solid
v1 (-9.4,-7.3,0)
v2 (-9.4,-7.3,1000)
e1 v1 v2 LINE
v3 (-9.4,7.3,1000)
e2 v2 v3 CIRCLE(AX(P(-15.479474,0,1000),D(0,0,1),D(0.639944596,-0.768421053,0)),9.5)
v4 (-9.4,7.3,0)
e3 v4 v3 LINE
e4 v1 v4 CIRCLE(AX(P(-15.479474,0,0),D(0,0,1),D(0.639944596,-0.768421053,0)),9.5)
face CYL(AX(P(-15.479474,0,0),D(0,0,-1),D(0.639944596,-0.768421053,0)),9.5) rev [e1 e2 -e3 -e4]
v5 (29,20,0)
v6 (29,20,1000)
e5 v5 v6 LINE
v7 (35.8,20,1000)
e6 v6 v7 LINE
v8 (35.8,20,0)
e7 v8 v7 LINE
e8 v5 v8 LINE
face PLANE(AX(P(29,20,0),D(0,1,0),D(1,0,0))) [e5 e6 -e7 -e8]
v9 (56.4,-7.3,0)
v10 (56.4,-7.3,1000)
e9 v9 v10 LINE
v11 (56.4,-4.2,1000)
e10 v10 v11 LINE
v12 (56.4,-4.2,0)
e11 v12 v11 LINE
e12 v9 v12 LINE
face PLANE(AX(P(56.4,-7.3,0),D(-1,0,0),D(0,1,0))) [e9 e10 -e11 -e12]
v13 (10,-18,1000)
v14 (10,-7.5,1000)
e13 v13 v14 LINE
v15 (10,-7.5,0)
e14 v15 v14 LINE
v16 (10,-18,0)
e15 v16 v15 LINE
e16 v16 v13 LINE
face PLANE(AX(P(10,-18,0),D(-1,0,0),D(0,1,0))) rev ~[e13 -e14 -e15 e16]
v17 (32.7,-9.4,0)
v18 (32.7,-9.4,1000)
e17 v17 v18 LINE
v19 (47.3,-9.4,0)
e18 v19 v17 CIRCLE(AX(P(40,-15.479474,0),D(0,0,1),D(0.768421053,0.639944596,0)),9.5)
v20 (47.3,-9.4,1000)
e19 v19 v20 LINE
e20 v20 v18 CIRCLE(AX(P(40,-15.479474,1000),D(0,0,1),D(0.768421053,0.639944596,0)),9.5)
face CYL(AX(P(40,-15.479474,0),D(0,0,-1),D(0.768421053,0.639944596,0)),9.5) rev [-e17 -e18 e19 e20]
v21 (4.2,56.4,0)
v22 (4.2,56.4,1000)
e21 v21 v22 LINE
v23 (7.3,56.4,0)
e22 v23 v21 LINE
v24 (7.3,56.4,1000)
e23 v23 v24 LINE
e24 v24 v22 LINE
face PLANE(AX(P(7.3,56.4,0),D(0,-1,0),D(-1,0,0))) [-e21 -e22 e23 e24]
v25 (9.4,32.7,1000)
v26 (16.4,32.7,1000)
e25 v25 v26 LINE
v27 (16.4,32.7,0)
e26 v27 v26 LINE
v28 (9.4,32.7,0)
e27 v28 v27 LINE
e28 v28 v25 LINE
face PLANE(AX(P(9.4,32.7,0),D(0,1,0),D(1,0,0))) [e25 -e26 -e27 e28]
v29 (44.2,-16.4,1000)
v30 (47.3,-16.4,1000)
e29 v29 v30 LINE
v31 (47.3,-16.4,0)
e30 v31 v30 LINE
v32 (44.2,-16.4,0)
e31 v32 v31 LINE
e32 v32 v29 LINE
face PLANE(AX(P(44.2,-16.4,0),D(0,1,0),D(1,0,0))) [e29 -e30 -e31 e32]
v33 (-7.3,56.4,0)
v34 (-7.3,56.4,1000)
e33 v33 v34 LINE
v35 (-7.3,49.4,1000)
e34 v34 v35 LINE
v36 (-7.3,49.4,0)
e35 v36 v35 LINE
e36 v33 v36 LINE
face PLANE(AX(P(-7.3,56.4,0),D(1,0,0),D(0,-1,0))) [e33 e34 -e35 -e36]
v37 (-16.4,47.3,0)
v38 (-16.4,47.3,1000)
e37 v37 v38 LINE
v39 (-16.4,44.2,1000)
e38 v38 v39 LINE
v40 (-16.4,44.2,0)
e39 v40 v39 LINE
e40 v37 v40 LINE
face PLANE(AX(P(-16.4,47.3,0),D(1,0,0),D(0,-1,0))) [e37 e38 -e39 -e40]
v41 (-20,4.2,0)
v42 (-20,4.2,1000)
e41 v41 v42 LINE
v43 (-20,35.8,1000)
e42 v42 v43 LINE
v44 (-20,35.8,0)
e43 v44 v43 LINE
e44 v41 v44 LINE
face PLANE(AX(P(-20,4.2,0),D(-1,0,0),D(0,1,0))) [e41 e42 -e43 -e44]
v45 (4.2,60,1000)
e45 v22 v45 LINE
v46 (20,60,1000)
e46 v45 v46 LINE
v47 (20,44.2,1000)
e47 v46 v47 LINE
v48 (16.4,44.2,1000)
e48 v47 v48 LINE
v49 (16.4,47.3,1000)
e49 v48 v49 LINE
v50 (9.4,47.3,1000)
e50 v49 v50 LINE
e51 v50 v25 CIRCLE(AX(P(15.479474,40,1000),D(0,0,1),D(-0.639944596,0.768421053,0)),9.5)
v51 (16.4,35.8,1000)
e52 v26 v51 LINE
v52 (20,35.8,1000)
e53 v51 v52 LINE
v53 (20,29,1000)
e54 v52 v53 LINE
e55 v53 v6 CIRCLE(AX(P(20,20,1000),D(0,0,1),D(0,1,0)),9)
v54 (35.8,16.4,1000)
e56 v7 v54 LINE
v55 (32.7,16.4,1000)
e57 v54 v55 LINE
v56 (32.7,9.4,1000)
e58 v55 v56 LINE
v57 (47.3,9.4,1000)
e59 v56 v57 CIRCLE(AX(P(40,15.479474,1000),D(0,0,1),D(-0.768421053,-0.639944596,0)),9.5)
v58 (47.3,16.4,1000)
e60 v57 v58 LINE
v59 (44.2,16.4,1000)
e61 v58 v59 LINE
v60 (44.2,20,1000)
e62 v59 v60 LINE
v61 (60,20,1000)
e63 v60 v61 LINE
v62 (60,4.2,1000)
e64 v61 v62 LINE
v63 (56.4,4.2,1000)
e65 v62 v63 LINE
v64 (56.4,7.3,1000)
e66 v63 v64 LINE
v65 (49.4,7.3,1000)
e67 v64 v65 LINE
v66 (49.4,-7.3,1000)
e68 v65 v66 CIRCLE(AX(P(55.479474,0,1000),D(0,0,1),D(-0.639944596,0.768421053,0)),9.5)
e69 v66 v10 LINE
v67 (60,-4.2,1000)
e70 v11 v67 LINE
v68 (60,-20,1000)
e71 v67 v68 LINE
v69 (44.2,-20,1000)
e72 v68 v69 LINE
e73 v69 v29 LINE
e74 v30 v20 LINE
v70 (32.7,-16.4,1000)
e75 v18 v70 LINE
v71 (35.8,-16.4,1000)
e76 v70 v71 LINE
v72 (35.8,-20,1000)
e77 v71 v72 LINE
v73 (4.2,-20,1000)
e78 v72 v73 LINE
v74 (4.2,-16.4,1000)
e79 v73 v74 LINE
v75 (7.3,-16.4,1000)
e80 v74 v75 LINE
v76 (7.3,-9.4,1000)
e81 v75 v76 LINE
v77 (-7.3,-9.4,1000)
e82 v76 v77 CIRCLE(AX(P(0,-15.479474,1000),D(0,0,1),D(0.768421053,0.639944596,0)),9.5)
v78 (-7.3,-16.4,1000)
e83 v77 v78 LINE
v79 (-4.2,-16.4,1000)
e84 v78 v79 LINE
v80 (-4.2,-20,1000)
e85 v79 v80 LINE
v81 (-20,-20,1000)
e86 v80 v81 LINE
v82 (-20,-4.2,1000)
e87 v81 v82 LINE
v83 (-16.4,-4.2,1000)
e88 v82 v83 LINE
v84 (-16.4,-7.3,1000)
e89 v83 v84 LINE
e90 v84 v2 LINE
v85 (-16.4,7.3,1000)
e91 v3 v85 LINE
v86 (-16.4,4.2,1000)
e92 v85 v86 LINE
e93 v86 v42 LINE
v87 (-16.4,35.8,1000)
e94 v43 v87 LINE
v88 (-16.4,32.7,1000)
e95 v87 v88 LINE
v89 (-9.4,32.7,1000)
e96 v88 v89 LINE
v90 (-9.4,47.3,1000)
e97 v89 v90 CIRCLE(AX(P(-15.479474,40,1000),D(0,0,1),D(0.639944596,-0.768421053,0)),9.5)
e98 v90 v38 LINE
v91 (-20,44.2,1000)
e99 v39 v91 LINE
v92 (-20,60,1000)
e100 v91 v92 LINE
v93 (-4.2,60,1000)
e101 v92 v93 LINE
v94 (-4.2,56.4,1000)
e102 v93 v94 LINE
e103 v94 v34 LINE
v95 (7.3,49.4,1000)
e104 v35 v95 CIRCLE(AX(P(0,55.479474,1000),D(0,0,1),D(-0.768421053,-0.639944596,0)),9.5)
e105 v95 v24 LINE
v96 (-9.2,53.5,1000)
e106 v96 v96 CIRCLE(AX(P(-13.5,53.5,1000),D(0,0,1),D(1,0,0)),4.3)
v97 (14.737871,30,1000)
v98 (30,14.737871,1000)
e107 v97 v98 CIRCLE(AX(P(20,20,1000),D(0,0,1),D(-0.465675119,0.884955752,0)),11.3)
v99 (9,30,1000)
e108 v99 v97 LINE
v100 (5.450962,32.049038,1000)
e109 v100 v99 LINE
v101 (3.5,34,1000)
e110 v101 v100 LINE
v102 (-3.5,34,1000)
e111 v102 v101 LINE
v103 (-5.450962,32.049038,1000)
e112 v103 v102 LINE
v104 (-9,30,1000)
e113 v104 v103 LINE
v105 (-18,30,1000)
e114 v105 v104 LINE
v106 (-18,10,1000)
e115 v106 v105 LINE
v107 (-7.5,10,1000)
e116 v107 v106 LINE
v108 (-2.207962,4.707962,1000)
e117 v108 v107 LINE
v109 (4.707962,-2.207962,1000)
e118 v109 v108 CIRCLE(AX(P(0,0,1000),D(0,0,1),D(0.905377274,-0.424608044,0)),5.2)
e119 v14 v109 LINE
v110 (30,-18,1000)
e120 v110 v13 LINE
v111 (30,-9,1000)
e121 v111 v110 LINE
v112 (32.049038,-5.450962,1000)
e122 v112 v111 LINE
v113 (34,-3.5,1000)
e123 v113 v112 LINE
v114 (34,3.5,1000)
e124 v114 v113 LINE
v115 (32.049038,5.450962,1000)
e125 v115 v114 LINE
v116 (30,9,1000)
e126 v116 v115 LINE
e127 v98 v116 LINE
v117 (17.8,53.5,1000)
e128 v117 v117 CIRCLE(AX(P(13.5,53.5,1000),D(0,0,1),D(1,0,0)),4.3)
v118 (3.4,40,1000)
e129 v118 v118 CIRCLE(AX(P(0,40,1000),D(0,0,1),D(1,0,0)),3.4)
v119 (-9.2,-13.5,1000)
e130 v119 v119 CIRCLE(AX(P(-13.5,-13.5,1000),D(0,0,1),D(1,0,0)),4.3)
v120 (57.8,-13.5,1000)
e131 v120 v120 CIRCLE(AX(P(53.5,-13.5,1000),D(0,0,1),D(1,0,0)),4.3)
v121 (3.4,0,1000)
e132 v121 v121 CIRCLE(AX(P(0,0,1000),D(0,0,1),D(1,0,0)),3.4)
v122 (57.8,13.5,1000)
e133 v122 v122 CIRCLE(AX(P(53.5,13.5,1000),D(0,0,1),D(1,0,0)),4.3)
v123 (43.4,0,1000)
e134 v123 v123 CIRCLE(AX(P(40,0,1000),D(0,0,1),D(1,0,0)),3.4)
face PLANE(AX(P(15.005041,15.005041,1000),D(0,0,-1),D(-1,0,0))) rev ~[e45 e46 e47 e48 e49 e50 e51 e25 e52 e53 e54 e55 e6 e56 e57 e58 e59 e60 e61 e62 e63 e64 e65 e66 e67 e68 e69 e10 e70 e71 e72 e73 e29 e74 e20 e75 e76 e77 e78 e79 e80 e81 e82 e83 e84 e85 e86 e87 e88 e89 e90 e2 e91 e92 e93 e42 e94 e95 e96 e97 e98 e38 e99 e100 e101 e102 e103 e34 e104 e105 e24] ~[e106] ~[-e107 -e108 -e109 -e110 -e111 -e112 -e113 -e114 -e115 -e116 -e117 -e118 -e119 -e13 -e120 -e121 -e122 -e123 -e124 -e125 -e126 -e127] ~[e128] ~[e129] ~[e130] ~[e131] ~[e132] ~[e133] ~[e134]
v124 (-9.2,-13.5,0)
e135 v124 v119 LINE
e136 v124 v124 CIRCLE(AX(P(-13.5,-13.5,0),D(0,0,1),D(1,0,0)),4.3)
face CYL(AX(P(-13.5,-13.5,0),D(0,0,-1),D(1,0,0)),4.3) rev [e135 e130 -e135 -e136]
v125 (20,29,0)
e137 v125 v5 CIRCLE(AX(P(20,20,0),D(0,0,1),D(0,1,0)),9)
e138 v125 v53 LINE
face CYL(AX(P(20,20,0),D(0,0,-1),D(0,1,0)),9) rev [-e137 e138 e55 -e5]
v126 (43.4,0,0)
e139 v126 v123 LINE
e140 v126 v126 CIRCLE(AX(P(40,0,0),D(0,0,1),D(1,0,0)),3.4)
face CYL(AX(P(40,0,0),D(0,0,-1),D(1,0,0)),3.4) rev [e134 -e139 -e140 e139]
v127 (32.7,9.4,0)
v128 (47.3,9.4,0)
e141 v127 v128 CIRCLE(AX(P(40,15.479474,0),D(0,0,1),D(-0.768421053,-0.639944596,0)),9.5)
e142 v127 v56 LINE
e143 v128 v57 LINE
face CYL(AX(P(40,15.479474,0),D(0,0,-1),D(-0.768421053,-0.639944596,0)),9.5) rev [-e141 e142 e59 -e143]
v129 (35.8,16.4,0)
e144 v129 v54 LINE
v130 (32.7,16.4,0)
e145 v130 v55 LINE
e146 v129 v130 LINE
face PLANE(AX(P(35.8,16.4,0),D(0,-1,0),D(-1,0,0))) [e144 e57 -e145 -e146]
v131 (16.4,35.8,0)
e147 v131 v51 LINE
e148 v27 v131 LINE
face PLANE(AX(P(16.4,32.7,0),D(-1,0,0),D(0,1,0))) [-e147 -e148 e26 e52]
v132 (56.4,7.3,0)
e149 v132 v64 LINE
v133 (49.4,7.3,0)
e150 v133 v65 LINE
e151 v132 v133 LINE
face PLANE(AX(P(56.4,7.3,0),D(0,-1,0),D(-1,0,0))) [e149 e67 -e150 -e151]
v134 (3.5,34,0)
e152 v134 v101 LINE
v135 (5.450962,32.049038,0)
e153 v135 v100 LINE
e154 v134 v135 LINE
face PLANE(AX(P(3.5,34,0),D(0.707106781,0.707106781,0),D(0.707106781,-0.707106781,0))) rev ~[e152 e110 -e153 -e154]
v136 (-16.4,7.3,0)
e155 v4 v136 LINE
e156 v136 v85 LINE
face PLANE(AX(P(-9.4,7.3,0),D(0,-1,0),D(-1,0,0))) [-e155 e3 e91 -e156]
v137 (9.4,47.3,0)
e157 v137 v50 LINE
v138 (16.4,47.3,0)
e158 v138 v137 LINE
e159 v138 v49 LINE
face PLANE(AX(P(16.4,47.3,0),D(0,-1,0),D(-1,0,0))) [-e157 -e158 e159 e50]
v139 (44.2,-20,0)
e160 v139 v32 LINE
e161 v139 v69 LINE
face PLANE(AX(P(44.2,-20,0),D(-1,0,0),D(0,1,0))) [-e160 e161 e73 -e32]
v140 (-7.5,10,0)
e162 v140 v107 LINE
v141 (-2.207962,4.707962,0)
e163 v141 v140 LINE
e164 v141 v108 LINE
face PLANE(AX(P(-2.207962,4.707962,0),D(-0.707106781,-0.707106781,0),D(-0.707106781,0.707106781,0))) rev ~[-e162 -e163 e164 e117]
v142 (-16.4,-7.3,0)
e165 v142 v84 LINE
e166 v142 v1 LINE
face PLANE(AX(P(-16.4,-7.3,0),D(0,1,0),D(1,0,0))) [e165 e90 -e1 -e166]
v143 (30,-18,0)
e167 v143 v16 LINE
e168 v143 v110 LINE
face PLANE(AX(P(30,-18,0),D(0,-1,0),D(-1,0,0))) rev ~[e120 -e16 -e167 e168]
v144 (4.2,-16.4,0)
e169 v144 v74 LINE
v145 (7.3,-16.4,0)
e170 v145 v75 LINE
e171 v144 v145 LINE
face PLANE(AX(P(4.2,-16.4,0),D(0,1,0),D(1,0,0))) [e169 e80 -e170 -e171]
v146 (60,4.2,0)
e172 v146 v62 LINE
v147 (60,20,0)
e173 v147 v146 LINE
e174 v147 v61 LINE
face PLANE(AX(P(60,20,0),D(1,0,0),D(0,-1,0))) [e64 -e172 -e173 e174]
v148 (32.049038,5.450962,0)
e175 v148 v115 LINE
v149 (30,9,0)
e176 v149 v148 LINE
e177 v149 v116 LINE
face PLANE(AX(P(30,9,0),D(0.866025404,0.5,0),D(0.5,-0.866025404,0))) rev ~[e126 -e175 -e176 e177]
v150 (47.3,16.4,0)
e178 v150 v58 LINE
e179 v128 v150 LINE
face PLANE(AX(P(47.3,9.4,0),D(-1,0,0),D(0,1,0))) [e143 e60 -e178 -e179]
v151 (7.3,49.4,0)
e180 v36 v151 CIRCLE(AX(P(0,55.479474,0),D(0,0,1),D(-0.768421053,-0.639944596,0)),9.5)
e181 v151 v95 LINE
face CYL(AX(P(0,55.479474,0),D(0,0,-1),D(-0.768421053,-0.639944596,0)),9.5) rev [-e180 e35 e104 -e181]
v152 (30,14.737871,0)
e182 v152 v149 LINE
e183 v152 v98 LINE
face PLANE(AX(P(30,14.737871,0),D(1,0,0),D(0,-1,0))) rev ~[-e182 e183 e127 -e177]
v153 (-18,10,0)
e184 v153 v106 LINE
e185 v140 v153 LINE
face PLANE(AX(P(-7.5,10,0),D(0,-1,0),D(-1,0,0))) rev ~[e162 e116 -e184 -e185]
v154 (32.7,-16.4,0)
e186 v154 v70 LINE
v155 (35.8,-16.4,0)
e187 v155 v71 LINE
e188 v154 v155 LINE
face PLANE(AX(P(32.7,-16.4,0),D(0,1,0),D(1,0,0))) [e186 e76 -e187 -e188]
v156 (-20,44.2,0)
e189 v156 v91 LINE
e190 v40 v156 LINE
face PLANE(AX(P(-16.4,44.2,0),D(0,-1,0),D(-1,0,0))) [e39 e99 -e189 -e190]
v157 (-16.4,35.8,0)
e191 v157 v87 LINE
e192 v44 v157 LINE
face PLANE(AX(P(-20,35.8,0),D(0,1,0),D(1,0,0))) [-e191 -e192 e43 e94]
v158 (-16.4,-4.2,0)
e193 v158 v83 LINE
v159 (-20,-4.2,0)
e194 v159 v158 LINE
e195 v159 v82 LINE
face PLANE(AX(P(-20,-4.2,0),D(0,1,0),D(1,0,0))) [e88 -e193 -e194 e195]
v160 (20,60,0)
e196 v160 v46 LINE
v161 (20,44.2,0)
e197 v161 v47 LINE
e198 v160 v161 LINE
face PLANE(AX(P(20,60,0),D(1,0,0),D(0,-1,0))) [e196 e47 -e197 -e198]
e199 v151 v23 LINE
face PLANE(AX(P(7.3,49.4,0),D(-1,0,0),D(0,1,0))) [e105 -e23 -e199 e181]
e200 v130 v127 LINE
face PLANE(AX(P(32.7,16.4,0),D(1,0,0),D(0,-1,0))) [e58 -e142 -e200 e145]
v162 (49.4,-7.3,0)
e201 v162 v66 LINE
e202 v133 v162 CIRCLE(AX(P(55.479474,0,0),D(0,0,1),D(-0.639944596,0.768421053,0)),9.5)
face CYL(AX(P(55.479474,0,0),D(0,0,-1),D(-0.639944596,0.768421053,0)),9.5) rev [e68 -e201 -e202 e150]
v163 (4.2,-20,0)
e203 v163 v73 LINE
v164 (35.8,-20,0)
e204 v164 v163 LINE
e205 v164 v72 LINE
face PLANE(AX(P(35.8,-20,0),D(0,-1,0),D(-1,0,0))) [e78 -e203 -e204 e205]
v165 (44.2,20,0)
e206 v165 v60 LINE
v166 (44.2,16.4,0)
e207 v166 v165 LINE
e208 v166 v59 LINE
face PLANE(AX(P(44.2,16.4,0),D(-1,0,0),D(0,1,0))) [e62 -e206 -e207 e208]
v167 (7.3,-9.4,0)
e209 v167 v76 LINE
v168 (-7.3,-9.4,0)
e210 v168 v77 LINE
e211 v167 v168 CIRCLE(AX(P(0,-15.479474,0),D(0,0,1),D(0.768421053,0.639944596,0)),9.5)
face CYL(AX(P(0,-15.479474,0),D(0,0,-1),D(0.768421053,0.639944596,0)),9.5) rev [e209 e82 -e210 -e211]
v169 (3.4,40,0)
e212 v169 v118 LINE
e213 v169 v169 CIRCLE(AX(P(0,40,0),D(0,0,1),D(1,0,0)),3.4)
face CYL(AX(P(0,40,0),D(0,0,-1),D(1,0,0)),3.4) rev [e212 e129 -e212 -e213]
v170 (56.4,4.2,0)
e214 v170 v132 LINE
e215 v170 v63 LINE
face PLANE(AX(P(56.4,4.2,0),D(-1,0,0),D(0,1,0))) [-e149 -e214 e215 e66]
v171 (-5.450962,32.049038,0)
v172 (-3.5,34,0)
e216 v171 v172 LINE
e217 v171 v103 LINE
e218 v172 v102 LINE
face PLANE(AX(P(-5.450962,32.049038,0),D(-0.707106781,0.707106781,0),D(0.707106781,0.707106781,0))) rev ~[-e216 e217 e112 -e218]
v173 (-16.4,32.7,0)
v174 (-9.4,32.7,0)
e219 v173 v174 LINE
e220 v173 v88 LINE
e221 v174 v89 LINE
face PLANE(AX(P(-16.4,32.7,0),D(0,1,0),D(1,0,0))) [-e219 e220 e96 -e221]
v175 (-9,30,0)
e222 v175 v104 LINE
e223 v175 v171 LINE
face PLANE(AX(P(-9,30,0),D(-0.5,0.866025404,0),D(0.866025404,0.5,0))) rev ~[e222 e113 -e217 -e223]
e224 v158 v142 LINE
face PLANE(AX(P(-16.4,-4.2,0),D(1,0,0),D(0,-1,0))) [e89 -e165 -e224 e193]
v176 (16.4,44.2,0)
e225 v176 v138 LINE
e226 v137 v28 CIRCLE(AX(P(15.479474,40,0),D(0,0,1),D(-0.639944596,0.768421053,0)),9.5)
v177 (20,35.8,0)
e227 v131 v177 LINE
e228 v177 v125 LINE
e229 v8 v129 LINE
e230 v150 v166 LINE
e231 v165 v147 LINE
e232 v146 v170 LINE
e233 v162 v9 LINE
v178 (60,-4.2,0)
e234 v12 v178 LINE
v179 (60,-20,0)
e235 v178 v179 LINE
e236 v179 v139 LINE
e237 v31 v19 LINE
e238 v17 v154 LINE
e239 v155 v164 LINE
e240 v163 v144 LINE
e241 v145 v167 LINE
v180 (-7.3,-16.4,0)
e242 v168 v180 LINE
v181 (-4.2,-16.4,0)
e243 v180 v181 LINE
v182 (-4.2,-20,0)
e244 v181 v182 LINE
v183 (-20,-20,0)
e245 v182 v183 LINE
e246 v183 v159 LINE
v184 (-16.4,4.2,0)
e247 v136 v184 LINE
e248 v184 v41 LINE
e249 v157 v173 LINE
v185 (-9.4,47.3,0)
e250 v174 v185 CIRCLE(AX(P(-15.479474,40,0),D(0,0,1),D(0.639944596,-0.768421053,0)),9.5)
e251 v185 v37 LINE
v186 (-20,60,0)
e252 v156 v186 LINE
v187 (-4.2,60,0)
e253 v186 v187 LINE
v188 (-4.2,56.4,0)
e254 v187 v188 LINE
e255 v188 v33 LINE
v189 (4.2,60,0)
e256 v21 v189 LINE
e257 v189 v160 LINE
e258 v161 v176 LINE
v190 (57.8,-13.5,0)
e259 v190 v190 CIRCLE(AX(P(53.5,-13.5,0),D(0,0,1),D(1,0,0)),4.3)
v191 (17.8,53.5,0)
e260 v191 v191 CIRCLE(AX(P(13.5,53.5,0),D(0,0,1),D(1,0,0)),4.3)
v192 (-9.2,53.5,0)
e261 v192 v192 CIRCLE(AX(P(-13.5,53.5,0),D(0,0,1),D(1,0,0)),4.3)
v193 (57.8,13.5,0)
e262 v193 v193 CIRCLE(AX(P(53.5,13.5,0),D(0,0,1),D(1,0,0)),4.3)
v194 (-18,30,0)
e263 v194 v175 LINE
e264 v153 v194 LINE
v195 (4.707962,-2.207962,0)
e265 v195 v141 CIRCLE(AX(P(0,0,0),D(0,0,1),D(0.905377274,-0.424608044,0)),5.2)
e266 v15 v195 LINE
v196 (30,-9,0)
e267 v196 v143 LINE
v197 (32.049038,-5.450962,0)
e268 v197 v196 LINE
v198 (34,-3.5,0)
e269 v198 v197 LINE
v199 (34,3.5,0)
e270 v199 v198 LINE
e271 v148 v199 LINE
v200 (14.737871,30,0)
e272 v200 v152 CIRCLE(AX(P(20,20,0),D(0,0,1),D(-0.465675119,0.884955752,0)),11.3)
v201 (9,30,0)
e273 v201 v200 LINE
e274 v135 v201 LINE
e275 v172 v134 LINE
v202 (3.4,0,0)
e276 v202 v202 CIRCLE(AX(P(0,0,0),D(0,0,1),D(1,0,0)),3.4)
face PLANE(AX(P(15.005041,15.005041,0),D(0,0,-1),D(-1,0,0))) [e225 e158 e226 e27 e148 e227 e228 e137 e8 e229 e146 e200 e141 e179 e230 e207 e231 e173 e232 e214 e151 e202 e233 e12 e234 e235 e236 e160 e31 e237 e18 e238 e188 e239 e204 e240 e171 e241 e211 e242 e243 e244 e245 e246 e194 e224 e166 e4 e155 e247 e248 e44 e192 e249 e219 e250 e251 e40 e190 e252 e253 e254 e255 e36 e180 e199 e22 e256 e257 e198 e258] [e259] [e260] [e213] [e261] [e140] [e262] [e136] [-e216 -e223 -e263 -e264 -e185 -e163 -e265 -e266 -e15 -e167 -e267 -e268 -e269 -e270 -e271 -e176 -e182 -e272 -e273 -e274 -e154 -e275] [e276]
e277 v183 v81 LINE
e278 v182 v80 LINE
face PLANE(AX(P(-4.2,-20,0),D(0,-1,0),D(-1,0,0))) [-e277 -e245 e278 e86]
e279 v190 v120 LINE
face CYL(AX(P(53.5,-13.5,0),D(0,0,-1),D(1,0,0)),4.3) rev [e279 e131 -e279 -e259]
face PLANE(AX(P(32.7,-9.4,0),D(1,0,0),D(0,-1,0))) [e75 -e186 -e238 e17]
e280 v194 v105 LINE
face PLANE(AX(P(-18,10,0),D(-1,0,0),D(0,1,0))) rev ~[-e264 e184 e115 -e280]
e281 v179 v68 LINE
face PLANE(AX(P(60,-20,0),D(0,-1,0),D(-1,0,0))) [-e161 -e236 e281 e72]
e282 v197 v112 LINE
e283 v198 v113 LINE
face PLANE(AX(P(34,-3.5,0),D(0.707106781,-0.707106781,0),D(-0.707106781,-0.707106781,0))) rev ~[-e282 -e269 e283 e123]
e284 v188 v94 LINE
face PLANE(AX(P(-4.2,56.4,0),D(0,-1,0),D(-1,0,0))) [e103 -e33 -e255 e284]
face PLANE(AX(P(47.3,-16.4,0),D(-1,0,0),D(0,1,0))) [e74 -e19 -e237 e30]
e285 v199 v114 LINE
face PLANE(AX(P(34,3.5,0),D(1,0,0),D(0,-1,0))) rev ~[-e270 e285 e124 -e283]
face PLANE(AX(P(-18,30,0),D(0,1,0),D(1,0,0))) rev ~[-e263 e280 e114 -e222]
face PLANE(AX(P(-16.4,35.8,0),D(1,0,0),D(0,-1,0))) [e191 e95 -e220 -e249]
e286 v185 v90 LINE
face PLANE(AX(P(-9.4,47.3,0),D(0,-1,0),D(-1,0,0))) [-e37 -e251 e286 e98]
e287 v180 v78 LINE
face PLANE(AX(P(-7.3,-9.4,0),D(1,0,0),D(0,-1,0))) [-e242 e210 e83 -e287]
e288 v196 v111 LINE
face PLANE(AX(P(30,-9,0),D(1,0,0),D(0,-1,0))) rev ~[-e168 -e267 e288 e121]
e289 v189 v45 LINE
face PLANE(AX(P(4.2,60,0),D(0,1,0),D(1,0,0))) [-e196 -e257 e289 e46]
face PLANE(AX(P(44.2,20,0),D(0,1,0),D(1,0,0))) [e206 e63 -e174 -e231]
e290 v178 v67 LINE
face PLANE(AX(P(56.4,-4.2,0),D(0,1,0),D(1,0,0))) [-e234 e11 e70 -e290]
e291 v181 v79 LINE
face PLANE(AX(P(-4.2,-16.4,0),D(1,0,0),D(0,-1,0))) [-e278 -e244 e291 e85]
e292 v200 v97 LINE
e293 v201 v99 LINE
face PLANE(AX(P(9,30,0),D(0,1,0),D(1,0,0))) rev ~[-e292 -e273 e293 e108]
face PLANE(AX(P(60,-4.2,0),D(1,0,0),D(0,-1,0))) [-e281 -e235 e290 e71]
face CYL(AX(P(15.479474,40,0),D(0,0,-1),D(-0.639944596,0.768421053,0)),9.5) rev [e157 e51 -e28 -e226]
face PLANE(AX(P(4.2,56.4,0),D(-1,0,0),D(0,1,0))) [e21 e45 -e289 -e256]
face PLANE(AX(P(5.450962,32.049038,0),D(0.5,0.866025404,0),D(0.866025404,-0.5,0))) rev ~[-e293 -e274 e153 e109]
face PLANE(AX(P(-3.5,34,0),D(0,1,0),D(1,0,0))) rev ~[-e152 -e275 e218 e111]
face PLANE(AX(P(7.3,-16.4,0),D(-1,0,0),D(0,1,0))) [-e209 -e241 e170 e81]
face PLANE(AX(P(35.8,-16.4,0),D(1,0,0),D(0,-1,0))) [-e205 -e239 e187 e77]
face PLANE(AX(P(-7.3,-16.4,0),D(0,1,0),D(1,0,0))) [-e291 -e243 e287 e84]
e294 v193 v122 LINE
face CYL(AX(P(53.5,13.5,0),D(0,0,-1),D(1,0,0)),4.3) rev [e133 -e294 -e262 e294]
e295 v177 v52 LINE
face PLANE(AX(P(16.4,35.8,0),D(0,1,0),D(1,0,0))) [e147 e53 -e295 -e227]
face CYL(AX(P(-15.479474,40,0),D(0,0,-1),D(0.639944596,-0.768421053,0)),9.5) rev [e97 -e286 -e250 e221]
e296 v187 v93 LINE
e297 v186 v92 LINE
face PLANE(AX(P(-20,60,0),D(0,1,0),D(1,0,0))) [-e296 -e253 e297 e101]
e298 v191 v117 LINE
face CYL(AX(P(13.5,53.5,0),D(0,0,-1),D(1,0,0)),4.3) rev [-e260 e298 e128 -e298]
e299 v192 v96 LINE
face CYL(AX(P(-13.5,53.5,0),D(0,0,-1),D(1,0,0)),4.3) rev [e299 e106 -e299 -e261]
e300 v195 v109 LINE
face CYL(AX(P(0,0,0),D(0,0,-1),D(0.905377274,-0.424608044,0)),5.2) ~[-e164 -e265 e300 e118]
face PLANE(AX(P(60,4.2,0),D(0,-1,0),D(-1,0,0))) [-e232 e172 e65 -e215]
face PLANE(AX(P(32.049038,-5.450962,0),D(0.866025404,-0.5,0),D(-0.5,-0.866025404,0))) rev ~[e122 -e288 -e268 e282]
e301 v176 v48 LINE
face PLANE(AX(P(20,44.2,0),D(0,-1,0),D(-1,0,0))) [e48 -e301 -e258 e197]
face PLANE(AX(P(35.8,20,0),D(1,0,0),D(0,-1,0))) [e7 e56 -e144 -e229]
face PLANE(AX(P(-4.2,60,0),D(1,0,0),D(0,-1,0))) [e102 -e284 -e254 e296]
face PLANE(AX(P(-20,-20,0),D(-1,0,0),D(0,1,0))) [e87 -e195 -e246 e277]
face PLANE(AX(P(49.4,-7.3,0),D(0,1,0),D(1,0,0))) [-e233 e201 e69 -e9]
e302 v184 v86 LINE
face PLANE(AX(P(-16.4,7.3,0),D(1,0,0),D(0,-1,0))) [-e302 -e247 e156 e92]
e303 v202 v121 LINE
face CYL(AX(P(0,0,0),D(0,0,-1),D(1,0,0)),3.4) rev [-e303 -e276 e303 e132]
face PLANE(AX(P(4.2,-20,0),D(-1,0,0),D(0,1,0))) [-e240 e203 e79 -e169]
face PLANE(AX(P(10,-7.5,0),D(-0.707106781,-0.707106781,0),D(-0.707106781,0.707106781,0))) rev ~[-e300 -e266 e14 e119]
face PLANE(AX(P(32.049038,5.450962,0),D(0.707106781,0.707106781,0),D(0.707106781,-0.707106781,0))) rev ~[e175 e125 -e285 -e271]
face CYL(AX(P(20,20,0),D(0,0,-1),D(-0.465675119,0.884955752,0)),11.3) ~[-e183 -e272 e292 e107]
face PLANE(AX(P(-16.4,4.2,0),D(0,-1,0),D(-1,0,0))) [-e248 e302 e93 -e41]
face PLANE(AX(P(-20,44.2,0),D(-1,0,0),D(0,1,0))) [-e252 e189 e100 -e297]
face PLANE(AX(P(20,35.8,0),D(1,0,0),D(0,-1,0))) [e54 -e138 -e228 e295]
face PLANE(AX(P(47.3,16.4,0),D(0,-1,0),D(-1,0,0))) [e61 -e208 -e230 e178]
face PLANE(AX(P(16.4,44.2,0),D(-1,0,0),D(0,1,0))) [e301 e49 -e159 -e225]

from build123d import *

# Parameters (mm, degrees)
SKETCH_1_R      = 3.4
SKETCH_1_R_2    = 4.3
EXTRUDE_1_DEPTH = 1000


with BuildPart() as part:
    # Эскиз1 → Бобышка-Вытянуть1 (new body)
    with BuildSketch(Plane.XY):
        with BuildLine():
            Line((-20, 47.3), (-20, 60))
            Line((-20, 60), (-7.3, 60))
            Line((-7.3, 60), (-4.2, 60))
            Line((-4.2, 60), (-4.2, 56.4))
            Line((-4.2, 56.4), (-7.3, 56.4))
            Line((-7.3, 56.4), (-7.3, 49.4))
            ThreePointArc((-7.3, 49.4), (0, 45.979473661), (7.3, 49.4))
            Line((7.3, 49.4), (7.3, 56.4))
            Line((7.3, 56.4), (4.2, 56.4))
            Line((4.2, 56.4), (4.2, 60))
            Line((4.2, 60), (7.3, 60))
            Line((7.3, 60), (20, 60))
            Line((20, 60), (20, 47.3))
            Line((20, 47.3), (20, 44.2))
            Line((20, 44.2), (16.4, 44.2))
            Line((16.4, 44.2), (16.4, 47.3))
            Line((16.4, 47.3), (9.4, 47.3))
            ThreePointArc((9.4, 47.3), (5.979473661, 40), (9.4, 32.7))
            Line((9.4, 32.7), (16.4, 32.7))
            Line((16.4, 32.7), (16.4, 35.8))
            Line((16.4, 35.8), (20, 35.8))
            Line((20, 35.8), (20, 32.7))
            Line((20, 32.7), (20, 29))
            ThreePointArc((20, 29), (13.636038969, 13.636038969), (29, 20))
            Line((29, 20), (32.7, 20))
            Line((32.7, 20), (35.8, 20))
            Line((35.8, 20), (35.8, 16.4))
            Line((35.8, 16.4), (32.7, 16.4))
            Line((32.7, 16.4), (32.7, 9.4))
            ThreePointArc((32.7, 9.4), (40, 5.979473661), (47.3, 9.4))
            Line((47.3, 9.4), (47.3, 16.4))
            Line((47.3, 16.4), (44.2, 16.4))
            Line((44.2, 16.4), (44.2, 20))
            Line((44.2, 20), (47.3, 20))
            Line((47.3, 20), (60, 20))
            Line((60, 20), (60, 7.3))
            Line((60, 7.3), (60, 4.2))
            Line((60, 4.2), (56.4, 4.2))
            Line((56.4, 4.2), (56.4, 7.3))
            Line((56.4, 7.3), (49.4, 7.3))
            ThreePointArc((49.4, 7.3), (45.979473661, 0), (49.4, -7.3))
            Line((49.4, -7.3), (56.4, -7.3))
            Line((56.4, -7.3), (56.4, -4.2))
            Line((56.4, -4.2), (60, -4.2))
            Line((60, -4.2), (60, -7.3))
            Line((60, -7.3), (60, -20))
            Line((60, -20), (47.3, -20))
            Line((47.3, -20), (44.2, -20))
            Line((44.2, -20), (44.2, -16.4))
            Line((44.2, -16.4), (47.3, -16.4))
            Line((47.3, -16.4), (47.3, -9.4))
            ThreePointArc((47.3, -9.4), (40, -5.979473661), (32.7, -9.4))
            Line((32.7, -9.4), (32.7, -16.4))
            Line((32.7, -16.4), (35.8, -16.4))
            Line((35.8, -16.4), (35.8, -20))
            Line((35.8, -20), (32.7, -20))
            Line((32.7, -20), (7.3, -20))
            Line((7.3, -20), (4.2, -20))
            Line((4.2, -20), (4.2, -16.4))
            Line((4.2, -16.4), (7.3, -16.4))
            Line((7.3, -16.4), (7.3, -9.4))
            ThreePointArc((7.3, -9.4), (0, -5.979473661), (-7.3, -9.4))
            Line((-7.3, -9.4), (-7.3, -16.4))
            Line((-7.3, -16.4), (-4.2, -16.4))
            Line((-4.2, -16.4), (-4.2, -20))
            Line((-4.2, -20), (-7.3, -20))
            Line((-7.3, -20), (-20, -20))
            Line((-20, -20), (-20, -7.3))
            Line((-20, -7.3), (-20, -4.2))
            Line((-20, -4.2), (-16.4, -4.2))
            Line((-16.4, -4.2), (-16.4, -7.3))
            Line((-16.4, -7.3), (-9.4, -7.3))
            ThreePointArc((-9.4, -7.3), (-5.979473661, 0), (-9.4, 7.3))
            Line((-9.4, 7.3), (-16.4, 7.3))
            Line((-16.4, 7.3), (-16.4, 4.2))
            Line((-16.4, 4.2), (-20, 4.2))
            Line((-20, 4.2), (-20, 7.3))
            Line((-20, 7.3), (-20, 32.7))
            Line((-20, 32.7), (-20, 35.8))
            Line((-20, 35.8), (-16.4, 35.8))
            Line((-16.4, 35.8), (-16.4, 32.7))
            Line((-16.4, 32.7), (-9.4, 32.7))
            ThreePointArc((-9.4, 32.7), (-5.979473661, 40), (-9.4, 47.3))
            Line((-9.4, 47.3), (-16.4, 47.3))
            Line((-16.4, 47.3), (-16.4, 44.2))
            Line((-16.4, 44.2), (-20, 44.2))
            Line((-20, 44.2), (-20, 47.3))
        make_face()
        with Locations((0, 40)):
            Circle(SKETCH_1_R, mode=Mode.SUBTRACT)
        with Locations((-13.5, 53.5)):
            Circle(SKETCH_1_R_2, mode=Mode.SUBTRACT)
        with Locations((13.5, 53.5)):
            Circle(SKETCH_1_R_2, mode=Mode.SUBTRACT)
        with Locations((-13.5, -13.5)):
            Circle(SKETCH_1_R_2, mode=Mode.SUBTRACT)
        Circle(SKETCH_1_R, mode=Mode.SUBTRACT)
        with Locations((40, 0)):
            Circle(SKETCH_1_R, mode=Mode.SUBTRACT)
        with Locations((53.5, 13.5)):
            Circle(SKETCH_1_R_2, mode=Mode.SUBTRACT)
        with Locations((53.5, -13.5)):
            Circle(SKETCH_1_R_2, mode=Mode.SUBTRACT)
        with BuildLine():
            Line((-2.207961827, 4.707961827), (-7.5, 10))
            Line((-7.5, 10), (-18, 10))
            Line((-18, 10), (-18, 30))
            Line((-18, 30), (-9, 30))
            Line((-9, 30), (-5.450961894, 32.049038106))
            Line((-5.450961894, 32.049038106), (-3.5, 34))
            Line((-3.5, 34), (3.5, 34))
            Line((3.5, 34), (5.450961894, 32.049038106))
            Line((5.450961894, 32.049038106), (9, 30))
            Line((9, 30), (14.737871153, 30))
            ThreePointArc((14.737871153, 30), (12.009693373, 12.009693373), (30, 14.737871153))
            Line((30, 14.737871153), (30, 9))
            Line((30, 9), (32.049038106, 5.450961894))
            Line((32.049038106, 5.450961894), (34, 3.5))
            Line((34, 3.5), (34, -3.5))
            Line((34, -3.5), (32.049038106, -5.450961894))
            Line((32.049038106, -5.450961894), (30, -9))
            Line((30, -9), (30, -18))
            Line((30, -18), (10, -18))
            Line((10, -18), (10, -7.5))
            Line((10, -7.5), (4.707961827, -2.207961827))
            ThreePointArc((4.707961827, -2.207961827), (3.676955262, 3.676955262), (-2.207961827, 4.707961827))
        make_face(mode=Mode.SUBTRACT)
    extrude(amount=EXTRUDE_1_DEPTH)


solid = part.part
